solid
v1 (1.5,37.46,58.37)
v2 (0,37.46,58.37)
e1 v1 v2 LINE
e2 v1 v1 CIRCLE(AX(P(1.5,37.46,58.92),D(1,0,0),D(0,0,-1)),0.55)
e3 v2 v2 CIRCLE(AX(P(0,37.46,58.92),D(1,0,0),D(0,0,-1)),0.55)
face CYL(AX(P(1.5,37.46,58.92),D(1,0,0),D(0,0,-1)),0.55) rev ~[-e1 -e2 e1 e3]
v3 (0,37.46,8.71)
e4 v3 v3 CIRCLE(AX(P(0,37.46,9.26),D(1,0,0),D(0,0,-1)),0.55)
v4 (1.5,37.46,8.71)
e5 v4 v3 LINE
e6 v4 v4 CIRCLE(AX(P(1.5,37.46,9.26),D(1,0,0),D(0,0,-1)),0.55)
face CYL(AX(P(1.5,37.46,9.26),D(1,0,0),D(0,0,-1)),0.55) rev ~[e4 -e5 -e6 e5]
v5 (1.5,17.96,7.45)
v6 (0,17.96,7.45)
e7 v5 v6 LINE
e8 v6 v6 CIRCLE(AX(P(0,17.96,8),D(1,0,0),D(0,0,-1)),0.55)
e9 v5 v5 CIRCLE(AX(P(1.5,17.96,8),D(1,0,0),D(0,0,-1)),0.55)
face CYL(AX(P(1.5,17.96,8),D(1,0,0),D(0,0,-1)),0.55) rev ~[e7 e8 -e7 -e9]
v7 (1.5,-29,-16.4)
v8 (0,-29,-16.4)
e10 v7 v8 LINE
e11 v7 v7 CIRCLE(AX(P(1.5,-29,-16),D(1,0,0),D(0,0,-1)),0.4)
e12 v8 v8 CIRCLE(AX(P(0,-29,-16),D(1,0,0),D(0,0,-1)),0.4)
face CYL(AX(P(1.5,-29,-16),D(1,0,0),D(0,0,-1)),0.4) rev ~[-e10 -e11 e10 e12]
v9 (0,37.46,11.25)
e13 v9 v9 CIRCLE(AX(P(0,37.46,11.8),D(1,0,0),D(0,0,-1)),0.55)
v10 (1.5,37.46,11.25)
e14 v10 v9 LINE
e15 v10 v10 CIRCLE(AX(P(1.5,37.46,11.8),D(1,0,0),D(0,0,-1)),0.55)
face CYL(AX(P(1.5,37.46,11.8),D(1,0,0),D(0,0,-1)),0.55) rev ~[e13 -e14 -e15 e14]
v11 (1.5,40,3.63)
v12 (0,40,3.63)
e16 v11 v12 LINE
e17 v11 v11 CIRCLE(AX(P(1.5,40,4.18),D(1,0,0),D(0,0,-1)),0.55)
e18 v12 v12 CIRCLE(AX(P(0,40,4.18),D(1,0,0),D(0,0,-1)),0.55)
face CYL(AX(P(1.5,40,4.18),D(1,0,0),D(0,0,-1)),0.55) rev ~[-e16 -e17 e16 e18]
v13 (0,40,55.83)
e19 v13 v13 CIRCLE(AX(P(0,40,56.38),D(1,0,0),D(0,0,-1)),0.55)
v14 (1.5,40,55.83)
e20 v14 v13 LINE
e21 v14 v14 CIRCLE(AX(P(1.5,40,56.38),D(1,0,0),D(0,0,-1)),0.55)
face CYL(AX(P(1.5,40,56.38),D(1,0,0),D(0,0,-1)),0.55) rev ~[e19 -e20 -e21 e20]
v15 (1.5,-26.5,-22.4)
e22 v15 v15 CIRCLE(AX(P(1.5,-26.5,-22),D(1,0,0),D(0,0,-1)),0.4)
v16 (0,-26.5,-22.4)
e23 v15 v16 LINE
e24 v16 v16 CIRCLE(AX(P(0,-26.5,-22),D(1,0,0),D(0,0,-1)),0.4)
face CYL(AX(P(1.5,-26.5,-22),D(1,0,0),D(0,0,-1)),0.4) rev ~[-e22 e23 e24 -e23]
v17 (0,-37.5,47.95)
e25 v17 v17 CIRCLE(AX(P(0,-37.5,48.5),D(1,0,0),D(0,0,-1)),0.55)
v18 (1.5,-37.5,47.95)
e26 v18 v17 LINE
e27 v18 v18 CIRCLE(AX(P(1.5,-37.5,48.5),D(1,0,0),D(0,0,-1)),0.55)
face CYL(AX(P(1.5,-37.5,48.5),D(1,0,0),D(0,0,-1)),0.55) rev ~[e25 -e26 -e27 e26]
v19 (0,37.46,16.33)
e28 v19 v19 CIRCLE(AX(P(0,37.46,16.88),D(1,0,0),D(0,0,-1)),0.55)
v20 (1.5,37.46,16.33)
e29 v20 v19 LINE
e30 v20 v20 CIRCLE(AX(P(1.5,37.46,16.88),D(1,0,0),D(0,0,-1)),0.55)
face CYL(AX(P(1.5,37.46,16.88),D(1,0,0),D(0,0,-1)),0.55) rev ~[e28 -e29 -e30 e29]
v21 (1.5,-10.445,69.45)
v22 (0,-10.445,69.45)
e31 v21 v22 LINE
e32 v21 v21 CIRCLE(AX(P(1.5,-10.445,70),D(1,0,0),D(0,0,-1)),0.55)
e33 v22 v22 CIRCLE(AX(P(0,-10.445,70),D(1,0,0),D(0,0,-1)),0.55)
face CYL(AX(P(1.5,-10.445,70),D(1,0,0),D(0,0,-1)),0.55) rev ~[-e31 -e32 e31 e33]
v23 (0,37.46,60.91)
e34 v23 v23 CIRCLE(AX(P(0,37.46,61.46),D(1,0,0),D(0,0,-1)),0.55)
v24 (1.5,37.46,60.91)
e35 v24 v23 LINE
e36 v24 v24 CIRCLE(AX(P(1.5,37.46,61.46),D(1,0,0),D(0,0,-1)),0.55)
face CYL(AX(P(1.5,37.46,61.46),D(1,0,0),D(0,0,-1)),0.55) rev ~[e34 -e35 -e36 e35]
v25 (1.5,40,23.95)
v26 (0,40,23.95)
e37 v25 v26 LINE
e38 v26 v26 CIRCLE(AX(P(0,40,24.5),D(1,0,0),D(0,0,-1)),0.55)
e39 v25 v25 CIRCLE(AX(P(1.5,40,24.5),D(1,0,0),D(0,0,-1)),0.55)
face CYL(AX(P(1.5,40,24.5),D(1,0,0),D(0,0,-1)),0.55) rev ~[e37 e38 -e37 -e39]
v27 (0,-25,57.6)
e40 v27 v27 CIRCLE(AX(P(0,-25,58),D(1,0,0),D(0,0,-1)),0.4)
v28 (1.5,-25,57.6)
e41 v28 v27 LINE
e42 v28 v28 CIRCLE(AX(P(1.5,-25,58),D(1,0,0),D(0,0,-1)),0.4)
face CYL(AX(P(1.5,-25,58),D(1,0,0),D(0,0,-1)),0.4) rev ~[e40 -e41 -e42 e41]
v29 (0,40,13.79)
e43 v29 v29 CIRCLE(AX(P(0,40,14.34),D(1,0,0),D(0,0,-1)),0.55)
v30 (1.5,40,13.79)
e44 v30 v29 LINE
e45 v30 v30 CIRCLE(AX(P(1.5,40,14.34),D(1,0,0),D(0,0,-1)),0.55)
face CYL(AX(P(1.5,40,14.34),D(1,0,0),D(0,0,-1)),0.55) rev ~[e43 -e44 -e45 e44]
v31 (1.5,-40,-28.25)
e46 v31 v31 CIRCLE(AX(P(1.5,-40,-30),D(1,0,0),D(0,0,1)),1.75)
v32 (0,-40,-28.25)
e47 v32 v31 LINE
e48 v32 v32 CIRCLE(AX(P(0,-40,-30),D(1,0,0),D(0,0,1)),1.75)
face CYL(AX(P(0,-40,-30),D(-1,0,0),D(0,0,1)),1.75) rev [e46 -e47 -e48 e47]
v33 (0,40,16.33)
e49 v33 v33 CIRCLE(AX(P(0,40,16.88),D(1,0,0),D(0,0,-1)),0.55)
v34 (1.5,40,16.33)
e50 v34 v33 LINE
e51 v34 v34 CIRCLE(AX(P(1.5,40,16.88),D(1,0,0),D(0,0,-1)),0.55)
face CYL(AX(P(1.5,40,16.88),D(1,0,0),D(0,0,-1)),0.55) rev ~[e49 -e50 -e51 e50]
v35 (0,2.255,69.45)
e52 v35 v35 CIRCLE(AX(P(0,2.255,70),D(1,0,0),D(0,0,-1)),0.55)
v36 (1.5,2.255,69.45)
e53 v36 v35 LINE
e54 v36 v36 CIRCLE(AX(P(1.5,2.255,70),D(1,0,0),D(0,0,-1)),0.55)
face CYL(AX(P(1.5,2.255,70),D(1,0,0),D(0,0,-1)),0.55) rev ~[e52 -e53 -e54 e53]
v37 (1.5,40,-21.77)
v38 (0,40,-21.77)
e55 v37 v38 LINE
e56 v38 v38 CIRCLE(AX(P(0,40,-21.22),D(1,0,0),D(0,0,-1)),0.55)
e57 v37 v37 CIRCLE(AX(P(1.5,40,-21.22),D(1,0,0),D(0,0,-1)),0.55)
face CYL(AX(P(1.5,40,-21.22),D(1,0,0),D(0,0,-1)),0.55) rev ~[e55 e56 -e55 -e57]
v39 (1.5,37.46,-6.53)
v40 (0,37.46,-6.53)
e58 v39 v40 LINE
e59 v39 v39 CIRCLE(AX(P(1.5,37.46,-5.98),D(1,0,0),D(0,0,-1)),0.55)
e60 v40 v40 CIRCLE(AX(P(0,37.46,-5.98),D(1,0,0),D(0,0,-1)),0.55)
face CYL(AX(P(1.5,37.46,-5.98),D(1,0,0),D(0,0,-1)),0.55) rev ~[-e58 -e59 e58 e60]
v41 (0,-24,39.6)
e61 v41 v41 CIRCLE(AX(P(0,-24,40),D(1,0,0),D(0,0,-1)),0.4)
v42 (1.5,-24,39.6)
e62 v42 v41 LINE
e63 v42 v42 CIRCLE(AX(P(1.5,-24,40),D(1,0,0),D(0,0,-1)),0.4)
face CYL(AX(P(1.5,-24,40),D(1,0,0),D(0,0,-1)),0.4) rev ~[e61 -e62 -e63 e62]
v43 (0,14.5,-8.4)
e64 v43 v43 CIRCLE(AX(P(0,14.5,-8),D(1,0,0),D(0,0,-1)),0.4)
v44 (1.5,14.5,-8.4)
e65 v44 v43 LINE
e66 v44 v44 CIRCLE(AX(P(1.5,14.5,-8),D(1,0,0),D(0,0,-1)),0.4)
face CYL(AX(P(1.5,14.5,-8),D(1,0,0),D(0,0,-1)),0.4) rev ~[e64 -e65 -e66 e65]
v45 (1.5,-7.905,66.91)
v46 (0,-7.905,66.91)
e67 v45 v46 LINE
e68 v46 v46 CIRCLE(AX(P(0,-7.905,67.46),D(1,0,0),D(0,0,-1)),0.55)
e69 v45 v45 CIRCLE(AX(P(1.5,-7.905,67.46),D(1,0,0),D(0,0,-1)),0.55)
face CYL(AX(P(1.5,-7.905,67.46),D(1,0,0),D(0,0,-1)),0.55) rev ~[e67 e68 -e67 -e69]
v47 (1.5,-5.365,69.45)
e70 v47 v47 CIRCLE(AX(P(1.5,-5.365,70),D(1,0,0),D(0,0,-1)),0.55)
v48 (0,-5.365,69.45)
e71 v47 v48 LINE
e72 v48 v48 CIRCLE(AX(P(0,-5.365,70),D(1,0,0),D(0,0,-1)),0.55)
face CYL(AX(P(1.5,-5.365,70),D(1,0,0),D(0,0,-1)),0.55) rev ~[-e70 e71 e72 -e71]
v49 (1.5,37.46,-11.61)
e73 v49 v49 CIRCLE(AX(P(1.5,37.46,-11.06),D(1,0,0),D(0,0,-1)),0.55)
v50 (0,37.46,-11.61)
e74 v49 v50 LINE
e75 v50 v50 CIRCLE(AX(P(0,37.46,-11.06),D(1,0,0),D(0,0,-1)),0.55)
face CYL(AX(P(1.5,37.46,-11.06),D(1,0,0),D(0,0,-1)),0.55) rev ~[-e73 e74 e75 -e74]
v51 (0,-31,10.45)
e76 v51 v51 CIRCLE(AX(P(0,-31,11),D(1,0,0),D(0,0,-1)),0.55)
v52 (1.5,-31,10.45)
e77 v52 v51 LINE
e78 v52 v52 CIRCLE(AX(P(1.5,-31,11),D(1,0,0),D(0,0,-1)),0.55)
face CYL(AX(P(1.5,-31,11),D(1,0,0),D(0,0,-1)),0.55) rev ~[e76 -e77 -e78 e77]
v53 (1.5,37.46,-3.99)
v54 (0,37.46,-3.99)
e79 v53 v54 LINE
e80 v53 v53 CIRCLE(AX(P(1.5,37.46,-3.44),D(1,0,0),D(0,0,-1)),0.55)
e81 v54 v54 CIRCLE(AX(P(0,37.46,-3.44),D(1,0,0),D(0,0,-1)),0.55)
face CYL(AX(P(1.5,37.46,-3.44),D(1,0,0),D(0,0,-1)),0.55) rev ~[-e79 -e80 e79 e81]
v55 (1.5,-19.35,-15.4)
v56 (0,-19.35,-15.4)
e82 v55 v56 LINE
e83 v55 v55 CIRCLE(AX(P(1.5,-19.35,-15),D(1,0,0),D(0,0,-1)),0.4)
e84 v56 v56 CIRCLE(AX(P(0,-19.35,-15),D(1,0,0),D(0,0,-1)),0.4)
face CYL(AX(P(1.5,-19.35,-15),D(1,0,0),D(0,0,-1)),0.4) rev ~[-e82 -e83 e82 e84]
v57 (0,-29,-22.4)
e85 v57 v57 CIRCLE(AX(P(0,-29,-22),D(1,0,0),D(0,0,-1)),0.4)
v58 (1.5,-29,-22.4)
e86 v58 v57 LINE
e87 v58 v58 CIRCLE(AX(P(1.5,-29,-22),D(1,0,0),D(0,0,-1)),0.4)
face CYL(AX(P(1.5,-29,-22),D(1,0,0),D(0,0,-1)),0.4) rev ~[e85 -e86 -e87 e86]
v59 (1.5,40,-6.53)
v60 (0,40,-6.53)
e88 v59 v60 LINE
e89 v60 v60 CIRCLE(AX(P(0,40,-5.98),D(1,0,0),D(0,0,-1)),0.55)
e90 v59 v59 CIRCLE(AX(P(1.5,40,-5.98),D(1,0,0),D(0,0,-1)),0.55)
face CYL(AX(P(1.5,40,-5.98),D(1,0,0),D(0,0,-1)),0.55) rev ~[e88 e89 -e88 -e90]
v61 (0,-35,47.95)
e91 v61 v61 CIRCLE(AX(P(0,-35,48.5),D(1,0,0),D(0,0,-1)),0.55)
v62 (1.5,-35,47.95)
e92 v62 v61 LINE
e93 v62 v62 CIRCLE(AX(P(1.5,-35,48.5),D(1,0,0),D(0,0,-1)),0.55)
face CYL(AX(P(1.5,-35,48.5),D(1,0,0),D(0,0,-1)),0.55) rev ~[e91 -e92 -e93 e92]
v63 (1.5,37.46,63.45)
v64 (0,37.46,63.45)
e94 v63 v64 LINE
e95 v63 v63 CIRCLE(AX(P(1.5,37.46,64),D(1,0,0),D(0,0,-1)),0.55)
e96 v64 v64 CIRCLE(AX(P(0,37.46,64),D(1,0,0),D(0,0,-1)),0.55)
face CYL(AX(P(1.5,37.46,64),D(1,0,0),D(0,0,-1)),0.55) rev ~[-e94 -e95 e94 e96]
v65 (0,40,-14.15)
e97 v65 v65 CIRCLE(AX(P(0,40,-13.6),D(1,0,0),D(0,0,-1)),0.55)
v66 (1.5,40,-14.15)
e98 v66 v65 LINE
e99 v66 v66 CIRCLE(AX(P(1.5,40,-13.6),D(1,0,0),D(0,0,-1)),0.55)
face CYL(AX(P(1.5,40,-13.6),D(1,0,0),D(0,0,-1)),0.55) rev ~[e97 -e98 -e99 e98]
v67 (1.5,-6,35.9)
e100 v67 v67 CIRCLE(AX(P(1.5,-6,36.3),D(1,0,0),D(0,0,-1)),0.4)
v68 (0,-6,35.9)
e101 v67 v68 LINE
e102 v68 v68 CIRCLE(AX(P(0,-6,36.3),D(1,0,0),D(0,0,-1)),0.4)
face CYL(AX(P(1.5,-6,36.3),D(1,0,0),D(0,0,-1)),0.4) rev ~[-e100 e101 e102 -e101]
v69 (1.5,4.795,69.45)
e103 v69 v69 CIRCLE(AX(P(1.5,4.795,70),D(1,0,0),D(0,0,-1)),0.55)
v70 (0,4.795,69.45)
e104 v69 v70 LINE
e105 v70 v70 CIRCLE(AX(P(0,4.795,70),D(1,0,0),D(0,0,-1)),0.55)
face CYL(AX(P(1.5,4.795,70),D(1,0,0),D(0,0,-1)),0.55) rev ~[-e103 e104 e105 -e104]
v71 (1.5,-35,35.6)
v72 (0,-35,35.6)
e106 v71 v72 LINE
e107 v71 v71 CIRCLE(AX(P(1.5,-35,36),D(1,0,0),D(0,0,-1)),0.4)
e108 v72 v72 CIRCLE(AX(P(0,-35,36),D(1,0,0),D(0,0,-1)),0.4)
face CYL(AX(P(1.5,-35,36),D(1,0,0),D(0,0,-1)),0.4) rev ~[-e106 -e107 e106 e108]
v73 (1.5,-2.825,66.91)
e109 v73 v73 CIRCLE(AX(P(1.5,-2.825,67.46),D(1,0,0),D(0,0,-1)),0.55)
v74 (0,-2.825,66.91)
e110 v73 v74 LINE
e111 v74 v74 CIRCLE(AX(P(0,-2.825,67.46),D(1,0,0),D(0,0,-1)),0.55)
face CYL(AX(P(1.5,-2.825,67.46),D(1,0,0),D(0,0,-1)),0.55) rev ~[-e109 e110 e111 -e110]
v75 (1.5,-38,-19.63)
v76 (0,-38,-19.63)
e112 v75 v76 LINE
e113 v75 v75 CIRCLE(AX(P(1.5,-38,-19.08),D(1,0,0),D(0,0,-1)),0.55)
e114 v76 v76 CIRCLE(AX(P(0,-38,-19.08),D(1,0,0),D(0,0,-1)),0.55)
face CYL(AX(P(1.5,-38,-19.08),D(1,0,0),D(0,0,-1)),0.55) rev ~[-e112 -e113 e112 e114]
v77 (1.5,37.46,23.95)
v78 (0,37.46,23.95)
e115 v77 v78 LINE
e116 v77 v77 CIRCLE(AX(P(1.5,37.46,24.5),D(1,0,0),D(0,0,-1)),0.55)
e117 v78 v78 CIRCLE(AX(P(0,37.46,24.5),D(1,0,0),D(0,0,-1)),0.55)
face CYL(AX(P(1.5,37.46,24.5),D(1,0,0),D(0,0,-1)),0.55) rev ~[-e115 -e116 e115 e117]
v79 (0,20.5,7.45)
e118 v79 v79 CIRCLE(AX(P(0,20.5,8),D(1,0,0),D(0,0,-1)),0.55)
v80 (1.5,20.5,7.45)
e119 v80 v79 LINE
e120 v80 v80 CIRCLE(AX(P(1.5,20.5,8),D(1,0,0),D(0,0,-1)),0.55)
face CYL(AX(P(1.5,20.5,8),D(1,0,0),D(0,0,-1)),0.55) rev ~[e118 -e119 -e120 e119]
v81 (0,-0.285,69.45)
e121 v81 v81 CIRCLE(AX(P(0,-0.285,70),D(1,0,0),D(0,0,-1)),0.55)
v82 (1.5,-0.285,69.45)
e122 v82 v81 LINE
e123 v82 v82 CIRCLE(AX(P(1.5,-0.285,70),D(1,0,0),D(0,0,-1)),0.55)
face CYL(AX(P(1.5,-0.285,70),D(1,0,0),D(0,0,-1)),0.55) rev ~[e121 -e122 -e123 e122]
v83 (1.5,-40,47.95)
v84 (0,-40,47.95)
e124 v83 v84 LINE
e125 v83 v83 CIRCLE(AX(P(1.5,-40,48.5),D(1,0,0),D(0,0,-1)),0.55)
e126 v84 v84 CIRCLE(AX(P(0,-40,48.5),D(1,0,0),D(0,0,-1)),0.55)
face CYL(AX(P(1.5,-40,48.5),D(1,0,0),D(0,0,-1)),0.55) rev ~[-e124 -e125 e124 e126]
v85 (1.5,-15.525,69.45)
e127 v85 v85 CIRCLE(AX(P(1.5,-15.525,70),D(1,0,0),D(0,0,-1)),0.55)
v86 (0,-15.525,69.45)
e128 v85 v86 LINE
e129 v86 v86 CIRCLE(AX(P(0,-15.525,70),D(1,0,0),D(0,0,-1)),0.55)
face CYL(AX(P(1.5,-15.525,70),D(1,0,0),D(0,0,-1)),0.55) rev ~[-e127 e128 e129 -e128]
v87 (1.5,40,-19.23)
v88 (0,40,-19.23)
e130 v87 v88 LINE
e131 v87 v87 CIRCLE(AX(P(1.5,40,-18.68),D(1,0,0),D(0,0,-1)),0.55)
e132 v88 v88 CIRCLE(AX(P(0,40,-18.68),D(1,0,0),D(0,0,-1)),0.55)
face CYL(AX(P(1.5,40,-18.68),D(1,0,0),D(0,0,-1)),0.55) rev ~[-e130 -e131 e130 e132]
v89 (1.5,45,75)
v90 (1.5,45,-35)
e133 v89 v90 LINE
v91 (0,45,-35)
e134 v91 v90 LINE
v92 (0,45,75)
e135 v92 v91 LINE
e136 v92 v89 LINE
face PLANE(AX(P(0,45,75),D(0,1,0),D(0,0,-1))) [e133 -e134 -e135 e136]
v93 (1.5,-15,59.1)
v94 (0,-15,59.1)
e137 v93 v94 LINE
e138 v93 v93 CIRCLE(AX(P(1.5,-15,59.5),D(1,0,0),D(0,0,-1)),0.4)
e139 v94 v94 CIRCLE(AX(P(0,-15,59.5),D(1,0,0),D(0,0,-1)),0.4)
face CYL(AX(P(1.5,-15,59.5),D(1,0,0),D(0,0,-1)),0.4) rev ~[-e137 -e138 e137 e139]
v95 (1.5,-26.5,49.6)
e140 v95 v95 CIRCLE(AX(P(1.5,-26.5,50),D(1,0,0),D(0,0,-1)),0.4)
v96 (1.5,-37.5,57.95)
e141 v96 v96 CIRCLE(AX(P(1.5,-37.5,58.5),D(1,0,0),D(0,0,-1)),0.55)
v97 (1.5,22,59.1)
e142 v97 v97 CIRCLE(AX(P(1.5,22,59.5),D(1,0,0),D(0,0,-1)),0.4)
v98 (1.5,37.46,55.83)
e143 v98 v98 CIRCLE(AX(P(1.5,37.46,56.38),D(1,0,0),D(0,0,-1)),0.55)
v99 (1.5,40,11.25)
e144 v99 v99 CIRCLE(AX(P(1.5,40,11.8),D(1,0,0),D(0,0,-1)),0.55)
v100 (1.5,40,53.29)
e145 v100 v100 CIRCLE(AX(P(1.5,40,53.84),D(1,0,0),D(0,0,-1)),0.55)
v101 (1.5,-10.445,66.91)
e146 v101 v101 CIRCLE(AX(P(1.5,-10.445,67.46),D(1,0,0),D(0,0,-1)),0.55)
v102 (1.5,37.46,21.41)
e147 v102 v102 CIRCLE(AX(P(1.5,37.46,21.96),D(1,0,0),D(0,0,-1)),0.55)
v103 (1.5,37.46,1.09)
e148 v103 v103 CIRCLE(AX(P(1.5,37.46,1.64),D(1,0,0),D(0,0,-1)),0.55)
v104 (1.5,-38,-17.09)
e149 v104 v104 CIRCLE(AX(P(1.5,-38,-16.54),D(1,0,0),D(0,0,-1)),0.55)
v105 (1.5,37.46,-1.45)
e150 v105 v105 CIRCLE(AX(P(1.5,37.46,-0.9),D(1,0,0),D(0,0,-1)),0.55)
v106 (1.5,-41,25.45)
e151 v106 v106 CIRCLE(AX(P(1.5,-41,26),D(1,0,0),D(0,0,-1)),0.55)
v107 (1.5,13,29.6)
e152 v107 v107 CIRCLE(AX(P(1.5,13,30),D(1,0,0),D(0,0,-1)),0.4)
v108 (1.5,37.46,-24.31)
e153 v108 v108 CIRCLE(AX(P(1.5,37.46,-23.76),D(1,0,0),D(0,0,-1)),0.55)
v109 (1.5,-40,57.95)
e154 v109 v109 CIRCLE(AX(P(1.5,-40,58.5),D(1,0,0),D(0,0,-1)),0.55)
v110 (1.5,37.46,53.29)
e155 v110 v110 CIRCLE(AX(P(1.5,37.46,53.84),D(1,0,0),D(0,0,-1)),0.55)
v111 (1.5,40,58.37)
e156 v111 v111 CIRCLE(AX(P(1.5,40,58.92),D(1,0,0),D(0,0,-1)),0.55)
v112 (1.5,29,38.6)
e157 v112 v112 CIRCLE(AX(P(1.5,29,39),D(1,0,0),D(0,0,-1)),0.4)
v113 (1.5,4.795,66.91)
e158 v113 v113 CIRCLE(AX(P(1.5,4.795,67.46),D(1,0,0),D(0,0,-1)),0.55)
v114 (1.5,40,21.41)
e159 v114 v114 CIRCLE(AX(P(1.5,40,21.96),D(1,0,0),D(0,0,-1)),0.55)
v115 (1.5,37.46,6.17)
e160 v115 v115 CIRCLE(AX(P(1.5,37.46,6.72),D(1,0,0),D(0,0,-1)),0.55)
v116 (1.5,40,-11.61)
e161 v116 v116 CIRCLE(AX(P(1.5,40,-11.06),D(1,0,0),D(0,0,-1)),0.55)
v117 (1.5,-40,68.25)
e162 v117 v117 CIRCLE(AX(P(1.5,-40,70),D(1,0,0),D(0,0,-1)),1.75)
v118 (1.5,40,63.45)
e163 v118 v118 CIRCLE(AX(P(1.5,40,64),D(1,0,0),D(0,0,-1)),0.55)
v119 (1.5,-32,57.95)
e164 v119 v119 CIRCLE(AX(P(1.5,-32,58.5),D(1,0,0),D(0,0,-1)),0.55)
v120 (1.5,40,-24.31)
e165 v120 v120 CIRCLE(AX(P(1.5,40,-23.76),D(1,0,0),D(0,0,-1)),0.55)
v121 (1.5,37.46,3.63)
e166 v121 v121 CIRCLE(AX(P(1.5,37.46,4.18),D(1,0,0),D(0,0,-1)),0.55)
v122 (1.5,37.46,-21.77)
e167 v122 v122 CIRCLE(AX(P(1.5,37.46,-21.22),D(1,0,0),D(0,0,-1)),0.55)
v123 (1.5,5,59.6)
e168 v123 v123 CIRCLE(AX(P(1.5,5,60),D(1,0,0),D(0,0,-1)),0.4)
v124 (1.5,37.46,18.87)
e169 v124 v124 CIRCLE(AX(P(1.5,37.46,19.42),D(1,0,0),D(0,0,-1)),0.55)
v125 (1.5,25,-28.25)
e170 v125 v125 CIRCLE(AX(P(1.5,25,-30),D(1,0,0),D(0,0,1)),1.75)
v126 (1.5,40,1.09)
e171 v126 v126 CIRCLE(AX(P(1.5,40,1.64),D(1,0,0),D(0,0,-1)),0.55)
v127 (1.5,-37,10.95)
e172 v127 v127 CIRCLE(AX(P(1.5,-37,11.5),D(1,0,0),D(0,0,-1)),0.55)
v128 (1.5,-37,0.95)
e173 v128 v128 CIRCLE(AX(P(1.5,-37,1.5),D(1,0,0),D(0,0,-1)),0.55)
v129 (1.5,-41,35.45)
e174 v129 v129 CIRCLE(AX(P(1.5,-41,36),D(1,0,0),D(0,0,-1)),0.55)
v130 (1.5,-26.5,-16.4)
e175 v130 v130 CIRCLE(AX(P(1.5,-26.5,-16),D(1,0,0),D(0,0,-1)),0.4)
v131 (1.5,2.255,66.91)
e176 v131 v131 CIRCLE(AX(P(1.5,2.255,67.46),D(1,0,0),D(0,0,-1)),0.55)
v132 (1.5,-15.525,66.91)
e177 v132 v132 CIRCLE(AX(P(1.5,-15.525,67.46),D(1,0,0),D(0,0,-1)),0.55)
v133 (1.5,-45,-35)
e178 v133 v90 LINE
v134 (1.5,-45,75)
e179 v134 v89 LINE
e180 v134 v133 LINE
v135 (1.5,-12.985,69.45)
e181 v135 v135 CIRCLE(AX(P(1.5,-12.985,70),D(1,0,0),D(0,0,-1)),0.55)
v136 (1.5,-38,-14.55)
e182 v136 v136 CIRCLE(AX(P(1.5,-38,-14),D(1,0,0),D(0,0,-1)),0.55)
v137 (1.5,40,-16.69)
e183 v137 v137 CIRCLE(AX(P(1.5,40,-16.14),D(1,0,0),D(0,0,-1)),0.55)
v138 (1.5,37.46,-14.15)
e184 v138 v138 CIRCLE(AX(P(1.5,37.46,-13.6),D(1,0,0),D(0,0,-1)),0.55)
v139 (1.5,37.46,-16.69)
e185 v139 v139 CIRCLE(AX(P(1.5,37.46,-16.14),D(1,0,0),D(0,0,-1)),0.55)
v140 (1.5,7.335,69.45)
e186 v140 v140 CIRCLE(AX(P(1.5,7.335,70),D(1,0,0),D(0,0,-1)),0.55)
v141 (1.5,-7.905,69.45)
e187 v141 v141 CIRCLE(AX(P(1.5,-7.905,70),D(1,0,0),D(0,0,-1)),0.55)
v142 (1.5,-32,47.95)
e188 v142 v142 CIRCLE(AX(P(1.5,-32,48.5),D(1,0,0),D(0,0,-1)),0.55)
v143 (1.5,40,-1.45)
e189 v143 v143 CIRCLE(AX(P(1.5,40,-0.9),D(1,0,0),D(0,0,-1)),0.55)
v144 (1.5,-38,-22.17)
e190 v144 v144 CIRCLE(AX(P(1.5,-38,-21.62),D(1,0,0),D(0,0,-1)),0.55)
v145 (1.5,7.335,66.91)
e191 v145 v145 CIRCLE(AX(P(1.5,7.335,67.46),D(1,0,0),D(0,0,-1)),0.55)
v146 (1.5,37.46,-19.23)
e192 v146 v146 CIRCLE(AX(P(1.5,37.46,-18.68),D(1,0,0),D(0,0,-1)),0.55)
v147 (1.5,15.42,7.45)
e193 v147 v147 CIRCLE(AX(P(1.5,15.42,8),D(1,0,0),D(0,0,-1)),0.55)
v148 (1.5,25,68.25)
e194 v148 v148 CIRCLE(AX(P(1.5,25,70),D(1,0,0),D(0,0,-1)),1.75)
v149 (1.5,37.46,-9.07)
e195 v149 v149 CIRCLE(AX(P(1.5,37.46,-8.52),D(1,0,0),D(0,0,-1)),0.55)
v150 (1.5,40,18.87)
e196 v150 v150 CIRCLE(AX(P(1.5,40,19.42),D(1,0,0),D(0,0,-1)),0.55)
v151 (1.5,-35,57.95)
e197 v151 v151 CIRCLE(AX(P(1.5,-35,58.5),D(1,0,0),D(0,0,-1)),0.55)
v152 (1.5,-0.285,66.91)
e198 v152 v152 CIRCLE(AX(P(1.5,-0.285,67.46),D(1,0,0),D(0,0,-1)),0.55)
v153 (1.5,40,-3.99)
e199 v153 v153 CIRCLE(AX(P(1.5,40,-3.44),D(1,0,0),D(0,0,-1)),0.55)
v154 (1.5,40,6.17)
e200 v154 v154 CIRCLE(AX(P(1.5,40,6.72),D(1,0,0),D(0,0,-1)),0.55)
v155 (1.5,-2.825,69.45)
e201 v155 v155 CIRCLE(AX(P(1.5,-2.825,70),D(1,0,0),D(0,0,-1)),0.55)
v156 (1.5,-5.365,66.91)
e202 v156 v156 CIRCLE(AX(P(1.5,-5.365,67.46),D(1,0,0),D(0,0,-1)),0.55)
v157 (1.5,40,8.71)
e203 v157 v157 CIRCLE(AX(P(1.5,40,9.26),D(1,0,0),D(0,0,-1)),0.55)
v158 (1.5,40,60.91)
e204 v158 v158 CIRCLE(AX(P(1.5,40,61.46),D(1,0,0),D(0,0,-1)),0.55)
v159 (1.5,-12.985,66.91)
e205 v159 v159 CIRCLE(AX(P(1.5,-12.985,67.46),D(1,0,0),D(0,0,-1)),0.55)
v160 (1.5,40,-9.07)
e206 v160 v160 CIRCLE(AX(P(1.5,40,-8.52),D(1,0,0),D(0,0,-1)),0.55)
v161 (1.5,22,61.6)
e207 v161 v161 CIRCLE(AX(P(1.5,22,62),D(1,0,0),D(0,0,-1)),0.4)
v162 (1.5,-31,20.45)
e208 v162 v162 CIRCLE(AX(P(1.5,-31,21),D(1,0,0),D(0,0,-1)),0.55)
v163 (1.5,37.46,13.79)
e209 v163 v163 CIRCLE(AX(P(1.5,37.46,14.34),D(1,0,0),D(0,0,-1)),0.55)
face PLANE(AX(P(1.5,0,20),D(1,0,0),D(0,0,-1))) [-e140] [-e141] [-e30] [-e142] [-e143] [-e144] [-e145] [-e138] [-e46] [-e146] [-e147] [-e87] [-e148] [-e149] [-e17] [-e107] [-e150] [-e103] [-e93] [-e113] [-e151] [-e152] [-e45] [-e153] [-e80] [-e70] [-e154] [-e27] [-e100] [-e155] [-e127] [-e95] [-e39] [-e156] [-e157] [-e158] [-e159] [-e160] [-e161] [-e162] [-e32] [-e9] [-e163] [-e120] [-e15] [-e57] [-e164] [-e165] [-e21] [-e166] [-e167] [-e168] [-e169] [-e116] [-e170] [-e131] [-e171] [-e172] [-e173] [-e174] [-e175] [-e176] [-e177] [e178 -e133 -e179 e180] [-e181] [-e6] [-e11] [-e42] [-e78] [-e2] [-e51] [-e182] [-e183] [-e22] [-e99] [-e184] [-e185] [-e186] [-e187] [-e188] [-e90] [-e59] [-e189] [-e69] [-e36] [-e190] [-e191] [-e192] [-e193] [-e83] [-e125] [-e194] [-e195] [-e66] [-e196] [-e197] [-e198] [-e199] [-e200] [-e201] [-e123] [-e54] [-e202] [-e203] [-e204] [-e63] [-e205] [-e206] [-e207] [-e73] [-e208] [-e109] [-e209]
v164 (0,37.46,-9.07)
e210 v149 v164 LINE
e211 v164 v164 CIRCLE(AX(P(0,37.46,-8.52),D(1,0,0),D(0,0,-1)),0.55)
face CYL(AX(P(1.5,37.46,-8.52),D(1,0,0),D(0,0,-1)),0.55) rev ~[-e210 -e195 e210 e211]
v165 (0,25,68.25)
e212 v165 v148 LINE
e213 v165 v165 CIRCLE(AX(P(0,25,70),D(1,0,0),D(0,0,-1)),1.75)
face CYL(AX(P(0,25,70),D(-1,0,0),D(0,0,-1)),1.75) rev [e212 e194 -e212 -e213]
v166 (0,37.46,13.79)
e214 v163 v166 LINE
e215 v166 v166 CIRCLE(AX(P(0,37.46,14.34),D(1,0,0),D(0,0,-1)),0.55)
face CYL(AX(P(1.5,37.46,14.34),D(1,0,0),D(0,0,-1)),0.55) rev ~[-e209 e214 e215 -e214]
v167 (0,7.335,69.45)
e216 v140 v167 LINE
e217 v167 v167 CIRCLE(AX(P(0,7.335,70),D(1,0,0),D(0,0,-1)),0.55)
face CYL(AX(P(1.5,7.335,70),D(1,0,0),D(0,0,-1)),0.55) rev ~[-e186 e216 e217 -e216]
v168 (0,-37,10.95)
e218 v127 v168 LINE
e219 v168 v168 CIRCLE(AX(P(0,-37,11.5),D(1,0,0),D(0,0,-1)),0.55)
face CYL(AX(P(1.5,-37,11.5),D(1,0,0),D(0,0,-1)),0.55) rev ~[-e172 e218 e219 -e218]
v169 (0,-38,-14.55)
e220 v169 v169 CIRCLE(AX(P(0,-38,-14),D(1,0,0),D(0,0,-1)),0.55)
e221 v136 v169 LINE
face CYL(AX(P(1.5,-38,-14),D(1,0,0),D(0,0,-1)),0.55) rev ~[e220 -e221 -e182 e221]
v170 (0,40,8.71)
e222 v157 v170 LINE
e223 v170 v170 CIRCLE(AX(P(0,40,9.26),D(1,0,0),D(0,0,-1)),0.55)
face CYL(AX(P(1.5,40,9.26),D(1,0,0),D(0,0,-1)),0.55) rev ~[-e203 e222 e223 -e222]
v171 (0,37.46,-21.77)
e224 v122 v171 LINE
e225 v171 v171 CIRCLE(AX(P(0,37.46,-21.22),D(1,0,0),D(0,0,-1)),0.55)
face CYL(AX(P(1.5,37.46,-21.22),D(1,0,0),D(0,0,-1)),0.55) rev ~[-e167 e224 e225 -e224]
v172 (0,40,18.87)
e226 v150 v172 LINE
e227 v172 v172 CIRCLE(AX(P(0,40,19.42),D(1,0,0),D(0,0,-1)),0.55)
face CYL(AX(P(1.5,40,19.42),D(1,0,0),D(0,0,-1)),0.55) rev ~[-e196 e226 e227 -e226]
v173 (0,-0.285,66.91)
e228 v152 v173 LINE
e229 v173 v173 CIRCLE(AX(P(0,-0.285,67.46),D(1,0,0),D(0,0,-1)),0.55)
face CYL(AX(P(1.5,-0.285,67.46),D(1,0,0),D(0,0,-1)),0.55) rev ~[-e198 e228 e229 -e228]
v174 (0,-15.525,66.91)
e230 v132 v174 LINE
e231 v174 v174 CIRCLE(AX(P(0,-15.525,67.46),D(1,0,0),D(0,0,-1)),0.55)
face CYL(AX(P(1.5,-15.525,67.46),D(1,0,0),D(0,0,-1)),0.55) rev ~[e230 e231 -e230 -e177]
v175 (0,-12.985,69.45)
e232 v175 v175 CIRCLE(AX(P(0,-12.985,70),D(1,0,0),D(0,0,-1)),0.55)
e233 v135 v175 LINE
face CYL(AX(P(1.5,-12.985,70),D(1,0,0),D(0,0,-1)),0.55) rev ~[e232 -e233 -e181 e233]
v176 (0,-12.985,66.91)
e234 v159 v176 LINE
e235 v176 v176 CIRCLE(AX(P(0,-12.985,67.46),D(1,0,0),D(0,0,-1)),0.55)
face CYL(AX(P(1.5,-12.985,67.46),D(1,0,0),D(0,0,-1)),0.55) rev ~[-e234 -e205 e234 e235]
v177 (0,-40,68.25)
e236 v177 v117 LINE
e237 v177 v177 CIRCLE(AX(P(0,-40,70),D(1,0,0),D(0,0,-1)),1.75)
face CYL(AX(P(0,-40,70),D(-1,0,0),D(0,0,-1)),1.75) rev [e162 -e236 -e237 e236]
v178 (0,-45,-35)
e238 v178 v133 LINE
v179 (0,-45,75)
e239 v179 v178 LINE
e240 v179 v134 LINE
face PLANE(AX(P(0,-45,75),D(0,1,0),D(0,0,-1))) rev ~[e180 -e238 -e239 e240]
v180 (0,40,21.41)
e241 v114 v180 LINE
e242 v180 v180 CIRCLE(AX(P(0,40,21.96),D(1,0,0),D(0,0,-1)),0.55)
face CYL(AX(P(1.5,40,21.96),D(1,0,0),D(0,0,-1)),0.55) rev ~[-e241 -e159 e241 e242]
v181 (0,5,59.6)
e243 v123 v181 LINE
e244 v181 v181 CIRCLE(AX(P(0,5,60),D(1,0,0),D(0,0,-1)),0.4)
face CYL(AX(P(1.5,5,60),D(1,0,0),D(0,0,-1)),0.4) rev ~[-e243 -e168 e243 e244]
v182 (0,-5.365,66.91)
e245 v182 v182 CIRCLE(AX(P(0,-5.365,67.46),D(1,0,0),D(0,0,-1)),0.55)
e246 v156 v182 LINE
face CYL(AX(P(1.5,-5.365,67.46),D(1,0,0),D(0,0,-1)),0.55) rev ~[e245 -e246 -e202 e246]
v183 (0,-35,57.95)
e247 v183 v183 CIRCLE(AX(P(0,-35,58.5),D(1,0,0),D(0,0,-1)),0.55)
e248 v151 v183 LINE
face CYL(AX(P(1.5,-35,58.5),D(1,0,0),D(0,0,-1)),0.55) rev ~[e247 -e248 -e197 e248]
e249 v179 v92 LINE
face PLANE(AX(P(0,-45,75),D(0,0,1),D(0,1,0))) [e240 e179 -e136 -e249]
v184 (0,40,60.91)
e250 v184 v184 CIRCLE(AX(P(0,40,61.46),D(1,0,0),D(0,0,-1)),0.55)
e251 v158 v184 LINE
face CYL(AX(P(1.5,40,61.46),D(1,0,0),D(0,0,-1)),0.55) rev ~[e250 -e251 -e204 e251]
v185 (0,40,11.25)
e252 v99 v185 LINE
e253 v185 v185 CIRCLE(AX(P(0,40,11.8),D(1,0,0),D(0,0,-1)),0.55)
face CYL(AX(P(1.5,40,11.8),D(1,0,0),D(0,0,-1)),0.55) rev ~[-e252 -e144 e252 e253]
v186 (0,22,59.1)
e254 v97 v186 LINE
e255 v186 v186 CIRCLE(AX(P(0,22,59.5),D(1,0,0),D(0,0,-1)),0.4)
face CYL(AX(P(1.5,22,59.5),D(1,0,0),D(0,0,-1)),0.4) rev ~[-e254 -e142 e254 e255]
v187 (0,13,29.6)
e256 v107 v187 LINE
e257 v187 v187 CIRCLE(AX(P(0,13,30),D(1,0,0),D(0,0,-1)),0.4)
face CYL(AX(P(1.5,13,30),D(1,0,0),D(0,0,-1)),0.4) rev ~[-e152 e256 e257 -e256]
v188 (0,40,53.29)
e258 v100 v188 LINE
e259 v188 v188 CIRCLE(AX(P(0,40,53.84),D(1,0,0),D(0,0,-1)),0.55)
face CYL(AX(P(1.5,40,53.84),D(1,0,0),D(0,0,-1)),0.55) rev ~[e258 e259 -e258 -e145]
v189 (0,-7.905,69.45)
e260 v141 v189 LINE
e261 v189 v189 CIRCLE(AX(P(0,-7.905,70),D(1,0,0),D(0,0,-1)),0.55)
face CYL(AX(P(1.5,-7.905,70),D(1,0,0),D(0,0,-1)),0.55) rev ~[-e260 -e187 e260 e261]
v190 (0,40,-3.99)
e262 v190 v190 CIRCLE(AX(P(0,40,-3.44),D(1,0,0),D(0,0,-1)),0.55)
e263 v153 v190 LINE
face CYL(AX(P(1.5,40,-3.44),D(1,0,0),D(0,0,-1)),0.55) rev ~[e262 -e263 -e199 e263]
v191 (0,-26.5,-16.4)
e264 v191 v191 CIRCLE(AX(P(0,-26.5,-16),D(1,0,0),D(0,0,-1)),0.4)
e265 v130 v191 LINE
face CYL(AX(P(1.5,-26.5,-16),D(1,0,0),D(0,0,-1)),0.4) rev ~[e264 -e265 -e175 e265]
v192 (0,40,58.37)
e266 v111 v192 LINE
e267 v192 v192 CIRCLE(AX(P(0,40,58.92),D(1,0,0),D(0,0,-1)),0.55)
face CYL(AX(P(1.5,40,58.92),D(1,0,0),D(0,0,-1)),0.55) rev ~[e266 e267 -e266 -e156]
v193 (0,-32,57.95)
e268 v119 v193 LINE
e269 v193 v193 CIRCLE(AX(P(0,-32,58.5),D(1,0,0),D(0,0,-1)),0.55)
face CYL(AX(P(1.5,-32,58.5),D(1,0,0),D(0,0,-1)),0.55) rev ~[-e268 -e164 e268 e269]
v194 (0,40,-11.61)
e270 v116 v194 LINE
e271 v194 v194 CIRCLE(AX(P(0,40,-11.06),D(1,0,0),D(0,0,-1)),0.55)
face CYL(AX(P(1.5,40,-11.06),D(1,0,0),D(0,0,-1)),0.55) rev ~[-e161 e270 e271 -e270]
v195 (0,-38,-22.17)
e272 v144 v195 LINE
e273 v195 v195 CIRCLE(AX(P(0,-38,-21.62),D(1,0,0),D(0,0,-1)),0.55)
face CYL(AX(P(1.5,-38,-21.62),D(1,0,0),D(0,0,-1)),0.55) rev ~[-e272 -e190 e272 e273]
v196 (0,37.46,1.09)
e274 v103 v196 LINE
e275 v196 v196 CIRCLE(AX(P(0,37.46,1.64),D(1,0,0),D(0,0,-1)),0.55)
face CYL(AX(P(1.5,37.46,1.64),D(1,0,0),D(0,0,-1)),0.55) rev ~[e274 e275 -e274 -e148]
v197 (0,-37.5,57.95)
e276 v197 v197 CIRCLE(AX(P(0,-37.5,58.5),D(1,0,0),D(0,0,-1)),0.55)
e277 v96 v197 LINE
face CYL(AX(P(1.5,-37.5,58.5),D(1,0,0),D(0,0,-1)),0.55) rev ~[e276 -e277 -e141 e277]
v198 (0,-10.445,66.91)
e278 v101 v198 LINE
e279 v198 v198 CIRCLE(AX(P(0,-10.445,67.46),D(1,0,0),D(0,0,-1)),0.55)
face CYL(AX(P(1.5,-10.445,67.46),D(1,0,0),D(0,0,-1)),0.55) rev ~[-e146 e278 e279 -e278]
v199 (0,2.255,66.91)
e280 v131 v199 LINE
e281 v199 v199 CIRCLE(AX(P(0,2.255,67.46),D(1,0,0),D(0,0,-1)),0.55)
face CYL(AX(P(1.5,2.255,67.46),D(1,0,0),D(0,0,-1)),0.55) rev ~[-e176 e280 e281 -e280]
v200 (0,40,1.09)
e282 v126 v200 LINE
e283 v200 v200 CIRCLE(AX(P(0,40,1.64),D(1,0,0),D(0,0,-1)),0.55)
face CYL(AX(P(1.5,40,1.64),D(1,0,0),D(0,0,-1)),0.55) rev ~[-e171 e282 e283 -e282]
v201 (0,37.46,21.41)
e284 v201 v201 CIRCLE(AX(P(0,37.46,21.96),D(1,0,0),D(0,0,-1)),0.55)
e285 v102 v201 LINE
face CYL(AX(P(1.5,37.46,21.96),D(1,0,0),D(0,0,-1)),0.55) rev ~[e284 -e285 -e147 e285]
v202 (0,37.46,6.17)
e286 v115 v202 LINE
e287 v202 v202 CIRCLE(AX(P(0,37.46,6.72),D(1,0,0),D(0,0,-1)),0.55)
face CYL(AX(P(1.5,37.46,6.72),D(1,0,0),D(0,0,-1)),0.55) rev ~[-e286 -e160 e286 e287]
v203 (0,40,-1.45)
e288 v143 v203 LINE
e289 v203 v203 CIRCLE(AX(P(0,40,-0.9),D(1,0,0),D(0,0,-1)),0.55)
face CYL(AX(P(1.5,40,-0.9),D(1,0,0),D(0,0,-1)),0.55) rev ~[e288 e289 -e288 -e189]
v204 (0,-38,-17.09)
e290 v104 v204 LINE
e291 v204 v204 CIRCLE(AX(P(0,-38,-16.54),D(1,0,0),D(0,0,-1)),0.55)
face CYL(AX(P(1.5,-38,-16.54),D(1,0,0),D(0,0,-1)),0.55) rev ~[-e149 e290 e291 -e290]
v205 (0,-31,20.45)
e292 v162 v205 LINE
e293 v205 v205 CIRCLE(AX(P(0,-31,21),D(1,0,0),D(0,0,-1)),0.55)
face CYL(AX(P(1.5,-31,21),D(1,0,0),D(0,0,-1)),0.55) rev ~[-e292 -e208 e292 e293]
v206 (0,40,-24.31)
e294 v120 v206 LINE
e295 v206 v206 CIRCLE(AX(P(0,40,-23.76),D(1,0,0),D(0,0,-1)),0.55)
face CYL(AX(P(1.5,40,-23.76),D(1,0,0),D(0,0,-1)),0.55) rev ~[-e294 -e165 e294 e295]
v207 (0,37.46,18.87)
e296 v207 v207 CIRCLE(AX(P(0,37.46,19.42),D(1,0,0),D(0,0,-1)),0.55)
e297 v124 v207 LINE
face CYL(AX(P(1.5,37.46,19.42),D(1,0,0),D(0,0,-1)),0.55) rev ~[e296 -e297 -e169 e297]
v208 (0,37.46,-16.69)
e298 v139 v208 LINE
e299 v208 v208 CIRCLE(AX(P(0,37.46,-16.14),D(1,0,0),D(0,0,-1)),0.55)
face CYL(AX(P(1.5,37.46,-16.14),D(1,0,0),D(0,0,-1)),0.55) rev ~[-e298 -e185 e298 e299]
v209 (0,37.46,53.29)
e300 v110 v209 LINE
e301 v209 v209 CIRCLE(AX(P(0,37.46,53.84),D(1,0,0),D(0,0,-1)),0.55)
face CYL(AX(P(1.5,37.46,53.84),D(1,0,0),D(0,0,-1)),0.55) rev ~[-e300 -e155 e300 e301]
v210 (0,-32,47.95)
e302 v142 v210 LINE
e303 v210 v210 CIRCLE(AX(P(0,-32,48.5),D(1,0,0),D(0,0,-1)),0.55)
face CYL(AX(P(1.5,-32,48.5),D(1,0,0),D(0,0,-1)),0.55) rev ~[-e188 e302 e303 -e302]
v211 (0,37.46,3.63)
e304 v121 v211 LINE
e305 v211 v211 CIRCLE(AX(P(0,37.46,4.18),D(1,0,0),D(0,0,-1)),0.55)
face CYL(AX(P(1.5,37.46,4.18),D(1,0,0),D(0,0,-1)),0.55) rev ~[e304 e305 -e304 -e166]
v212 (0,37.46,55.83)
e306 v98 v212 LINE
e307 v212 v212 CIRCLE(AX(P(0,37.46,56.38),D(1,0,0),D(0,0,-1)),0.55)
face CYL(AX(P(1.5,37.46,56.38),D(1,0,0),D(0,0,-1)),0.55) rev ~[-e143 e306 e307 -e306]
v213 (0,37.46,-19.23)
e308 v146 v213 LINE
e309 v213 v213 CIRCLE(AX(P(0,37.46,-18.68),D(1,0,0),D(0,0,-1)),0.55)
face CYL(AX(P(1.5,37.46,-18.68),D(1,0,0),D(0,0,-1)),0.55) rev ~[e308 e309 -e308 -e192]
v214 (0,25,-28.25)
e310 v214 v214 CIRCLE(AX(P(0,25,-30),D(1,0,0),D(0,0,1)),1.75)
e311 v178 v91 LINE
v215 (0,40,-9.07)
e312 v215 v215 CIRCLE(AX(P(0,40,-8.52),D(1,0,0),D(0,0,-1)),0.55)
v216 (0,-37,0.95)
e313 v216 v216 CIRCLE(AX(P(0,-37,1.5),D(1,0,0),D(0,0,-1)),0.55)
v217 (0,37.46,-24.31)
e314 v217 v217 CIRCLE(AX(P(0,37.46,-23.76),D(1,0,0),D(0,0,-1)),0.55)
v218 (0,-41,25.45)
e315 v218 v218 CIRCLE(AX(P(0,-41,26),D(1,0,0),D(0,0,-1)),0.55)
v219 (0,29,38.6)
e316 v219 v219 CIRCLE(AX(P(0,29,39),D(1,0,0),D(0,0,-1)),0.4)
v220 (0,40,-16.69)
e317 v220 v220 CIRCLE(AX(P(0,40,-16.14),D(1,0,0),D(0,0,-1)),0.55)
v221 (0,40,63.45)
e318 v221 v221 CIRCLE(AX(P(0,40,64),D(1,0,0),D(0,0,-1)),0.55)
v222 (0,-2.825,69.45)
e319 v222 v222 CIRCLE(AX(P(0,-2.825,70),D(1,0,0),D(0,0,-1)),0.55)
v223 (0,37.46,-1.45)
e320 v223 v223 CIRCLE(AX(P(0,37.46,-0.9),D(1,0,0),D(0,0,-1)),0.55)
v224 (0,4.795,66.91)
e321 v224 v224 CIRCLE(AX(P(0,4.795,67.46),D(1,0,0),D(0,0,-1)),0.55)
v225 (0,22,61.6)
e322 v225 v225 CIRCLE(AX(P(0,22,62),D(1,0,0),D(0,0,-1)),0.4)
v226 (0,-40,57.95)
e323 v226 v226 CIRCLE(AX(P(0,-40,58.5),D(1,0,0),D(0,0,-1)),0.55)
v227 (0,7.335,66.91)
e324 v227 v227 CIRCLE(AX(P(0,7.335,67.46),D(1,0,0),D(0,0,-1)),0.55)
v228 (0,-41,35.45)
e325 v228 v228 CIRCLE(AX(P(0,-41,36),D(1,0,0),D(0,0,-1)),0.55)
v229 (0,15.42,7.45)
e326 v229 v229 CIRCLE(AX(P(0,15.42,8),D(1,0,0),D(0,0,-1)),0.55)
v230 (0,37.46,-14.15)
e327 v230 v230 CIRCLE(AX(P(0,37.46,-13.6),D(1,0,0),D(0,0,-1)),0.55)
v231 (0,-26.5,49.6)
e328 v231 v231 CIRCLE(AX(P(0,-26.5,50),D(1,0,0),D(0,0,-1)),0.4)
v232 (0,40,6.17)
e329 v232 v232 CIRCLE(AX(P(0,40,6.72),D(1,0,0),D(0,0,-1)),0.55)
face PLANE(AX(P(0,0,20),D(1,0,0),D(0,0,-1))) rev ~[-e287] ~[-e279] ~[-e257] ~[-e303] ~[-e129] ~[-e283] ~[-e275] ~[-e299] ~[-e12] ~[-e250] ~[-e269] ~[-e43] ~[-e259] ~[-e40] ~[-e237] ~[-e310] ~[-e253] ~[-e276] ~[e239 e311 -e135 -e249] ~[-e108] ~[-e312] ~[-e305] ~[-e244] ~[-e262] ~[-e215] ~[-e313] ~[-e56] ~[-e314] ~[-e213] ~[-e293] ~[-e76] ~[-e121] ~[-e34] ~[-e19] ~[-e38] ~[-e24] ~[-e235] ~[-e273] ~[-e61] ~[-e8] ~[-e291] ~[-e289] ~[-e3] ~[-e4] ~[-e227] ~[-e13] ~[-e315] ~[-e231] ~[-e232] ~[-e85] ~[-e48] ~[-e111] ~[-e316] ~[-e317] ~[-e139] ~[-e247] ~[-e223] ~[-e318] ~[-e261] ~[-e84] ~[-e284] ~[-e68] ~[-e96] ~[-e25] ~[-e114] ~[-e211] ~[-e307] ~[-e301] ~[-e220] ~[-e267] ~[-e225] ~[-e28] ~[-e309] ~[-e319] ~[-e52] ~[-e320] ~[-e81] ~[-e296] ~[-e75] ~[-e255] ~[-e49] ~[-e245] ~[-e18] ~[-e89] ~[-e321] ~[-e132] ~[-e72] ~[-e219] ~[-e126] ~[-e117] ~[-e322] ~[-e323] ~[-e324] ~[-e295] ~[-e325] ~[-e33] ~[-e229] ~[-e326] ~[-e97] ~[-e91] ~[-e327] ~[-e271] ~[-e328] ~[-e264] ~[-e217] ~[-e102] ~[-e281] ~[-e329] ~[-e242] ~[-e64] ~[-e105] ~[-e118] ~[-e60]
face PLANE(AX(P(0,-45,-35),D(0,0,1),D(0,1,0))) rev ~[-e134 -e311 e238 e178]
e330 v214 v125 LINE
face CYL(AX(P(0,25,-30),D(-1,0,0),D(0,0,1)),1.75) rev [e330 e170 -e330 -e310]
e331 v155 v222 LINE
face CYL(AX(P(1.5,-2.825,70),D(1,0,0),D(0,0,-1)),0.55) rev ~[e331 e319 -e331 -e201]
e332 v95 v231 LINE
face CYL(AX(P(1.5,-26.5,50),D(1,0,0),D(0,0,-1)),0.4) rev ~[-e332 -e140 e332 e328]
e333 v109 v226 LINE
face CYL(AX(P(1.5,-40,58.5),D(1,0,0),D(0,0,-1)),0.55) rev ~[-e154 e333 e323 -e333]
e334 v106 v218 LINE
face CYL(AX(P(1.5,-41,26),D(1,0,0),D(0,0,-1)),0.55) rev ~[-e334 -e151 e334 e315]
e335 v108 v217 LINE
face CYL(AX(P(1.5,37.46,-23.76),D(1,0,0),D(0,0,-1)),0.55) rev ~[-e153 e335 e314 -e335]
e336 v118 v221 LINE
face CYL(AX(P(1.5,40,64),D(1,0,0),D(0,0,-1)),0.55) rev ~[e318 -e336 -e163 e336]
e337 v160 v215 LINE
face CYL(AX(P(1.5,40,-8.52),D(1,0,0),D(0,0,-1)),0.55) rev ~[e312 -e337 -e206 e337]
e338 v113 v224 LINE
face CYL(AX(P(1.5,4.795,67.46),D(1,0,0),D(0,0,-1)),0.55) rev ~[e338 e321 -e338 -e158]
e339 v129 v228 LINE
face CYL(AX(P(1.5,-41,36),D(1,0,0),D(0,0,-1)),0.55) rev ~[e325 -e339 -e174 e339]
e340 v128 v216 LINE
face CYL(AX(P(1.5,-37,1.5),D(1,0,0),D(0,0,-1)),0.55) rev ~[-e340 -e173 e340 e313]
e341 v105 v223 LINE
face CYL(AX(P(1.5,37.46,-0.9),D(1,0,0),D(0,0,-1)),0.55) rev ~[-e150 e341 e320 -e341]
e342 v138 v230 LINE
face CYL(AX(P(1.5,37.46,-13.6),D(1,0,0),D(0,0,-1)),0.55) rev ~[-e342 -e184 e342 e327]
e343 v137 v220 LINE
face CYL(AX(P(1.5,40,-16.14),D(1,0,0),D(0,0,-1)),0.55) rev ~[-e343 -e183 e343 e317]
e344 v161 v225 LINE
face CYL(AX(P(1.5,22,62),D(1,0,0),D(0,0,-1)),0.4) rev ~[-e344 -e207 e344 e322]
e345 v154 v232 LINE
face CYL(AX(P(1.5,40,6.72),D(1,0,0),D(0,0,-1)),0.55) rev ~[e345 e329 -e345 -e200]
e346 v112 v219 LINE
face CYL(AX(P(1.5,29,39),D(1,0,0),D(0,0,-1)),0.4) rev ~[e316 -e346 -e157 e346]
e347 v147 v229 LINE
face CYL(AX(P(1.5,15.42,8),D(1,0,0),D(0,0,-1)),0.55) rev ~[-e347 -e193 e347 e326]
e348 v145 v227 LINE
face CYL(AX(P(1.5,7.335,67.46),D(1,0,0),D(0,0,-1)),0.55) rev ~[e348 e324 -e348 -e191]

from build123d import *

# Parameters (mm, degrees)
SKETCH_1_W          = 110
SKETCH_1_H          = 90
SKETCH_1_R          = 1.75
EXTRUDE_1_DEPTH     = 1.5
SKETCH_2_R          = 0.55
CUT_EXTRUDE_1_DEPTH = 10
SKETCH_4_R          = 0.55
CUT_EXTRUDE_3_DEPTH = 10
SKETCH_5_R          = 0.4
CUT_EXTRUDE_4_DEPTH = 10
SKETCH_6_R          = 0.55
SKETCH_6_R_2        = 0.4
CUT_EXTRUDE_5_DEPTH = 10
SKETCH_7_R          = 0.4
CUT_EXTRUDE_6_DEPTH = 10


with BuildPart() as part:
    # Эскиз1 → Вытянуть1 (new body)
    with BuildSketch(Plane(origin=(0, 0, 0), x_dir=(0, 0, -1), z_dir=(1, 0, 0))):
        with Locations((-20, 0)):
            Rectangle(SKETCH_1_W, SKETCH_1_H)
        with Locations((-70, 25)):
            Circle(SKETCH_1_R, mode=Mode.SUBTRACT)
        with Locations((-70, -40)):
            Circle(SKETCH_1_R, mode=Mode.SUBTRACT)
        with Locations(Location((30, -40, 0), (0, 0, 180))):
            Circle(SKETCH_1_R, mode=Mode.SUBTRACT)
        with Locations(Location((30, 25, 0), (0, 0, 180))):
            Circle(SKETCH_1_R, mode=Mode.SUBTRACT)
    extrude(amount=EXTRUDE_1_DEPTH)

    # Эскиз2 → Вырез-Вытянуть1 (cut)
    with BuildSketch(Plane(origin=(1.5, 0, 0), x_dir=(0, 0, -1), z_dir=(1, 0, 0))):
        with Locations((-70, 7.335)):
            Circle(SKETCH_2_R)
        with Locations((-67.46, 7.335)):
            Circle(SKETCH_2_R)
        with Locations((-70, 4.795)):
            Circle(SKETCH_2_R)
        with Locations((-67.46, 4.795)):
            Circle(SKETCH_2_R)
        with Locations((-70, 2.255)):
            Circle(SKETCH_2_R)
        with Locations((-67.46, 2.255)):
            Circle(SKETCH_2_R)
        with Locations((-70, -0.285)):
            Circle(SKETCH_2_R)
        with Locations((-67.46, -0.285)):
            Circle(SKETCH_2_R)
        with Locations((-70, -2.825)):
            Circle(SKETCH_2_R)
        with Locations((-67.46, -2.825)):
            Circle(SKETCH_2_R)
        with Locations((-70, -5.365)):
            Circle(SKETCH_2_R)
        with Locations((-67.46, -5.365)):
            Circle(SKETCH_2_R)
        with Locations((-70, -7.905)):
            Circle(SKETCH_2_R)
        with Locations((-67.46, -7.905)):
            Circle(SKETCH_2_R)
        with Locations((-70, -10.445)):
            Circle(SKETCH_2_R)
        with Locations((-67.46, -10.445)):
            Circle(SKETCH_2_R)
        with Locations((-70, -12.985)):
            Circle(SKETCH_2_R)
        with Locations((-67.46, -12.985)):
            Circle(SKETCH_2_R)
        with Locations((-70, -15.525)):
            Circle(SKETCH_2_R)
        with Locations((-67.46, -15.525)):
            Circle(SKETCH_2_R)
        with Locations((-64, 40)):
            Circle(SKETCH_2_R)
        with Locations((-64, 37.46)):
            Circle(SKETCH_2_R)
        with Locations((-61.46, 40)):
            Circle(SKETCH_2_R)
        with Locations((-61.46, 37.46)):
            Circle(SKETCH_2_R)
        with Locations((-58.92, 40)):
            Circle(SKETCH_2_R)
        with Locations((-58.92, 37.46)):
            Circle(SKETCH_2_R)
        with Locations((-56.38, 40)):
            Circle(SKETCH_2_R)
        with Locations((-56.38, 37.46)):
            Circle(SKETCH_2_R)
        with Locations((-53.84, 40)):
            Circle(SKETCH_2_R)
        with Locations((-53.84, 37.46)):
            Circle(SKETCH_2_R)
        with Locations((-24.5, 40)):
            Circle(SKETCH_2_R)
        with Locations((-24.5, 37.46)):
            Circle(SKETCH_2_R)
        with Locations((-21.96, 40)):
            Circle(SKETCH_2_R)
        with Locations((-21.96, 37.46)):
            Circle(SKETCH_2_R)
        with Locations((-19.42, 40)):
            Circle(SKETCH_2_R)
        with Locations((-19.42, 37.46)):
            Circle(SKETCH_2_R)
        with Locations((-16.88, 40)):
            Circle(SKETCH_2_R)
        with Locations((-16.88, 37.46)):
            Circle(SKETCH_2_R)
        with Locations((-14.34, 40)):
            Circle(SKETCH_2_R)
        with Locations((-14.34, 37.46)):
            Circle(SKETCH_2_R)
        with Locations((-11.8, 40)):
            Circle(SKETCH_2_R)
        with Locations((-11.8, 37.46)):
            Circle(SKETCH_2_R)
        with Locations((-9.26, 40)):
            Circle(SKETCH_2_R)
        with Locations((-9.26, 37.46)):
            Circle(SKETCH_2_R)
        with Locations((-6.72, 40)):
            Circle(SKETCH_2_R)
        with Locations((-6.72, 37.46)):
            Circle(SKETCH_2_R)
        with Locations((-4.18, 40)):
            Circle(SKETCH_2_R)
        with Locations((-4.18, 37.46)):
            Circle(SKETCH_2_R)
        with Locations((-1.64, 40)):
            Circle(SKETCH_2_R)
        with Locations((-1.64, 37.46)):
            Circle(SKETCH_2_R)
        with Locations((0.9, 40)):
            Circle(SKETCH_2_R)
        with Locations((0.9, 37.46)):
            Circle(SKETCH_2_R)
        with Locations((3.44, 40)):
            Circle(SKETCH_2_R)
        with Locations((3.44, 37.46)):
            Circle(SKETCH_2_R)
        with Locations((5.98, 40)):
            Circle(SKETCH_2_R)
        with Locations((5.98, 37.46)):
            Circle(SKETCH_2_R)
        with Locations((8.52, 40)):
            Circle(SKETCH_2_R)
        with Locations((8.52, 37.46)):
            Circle(SKETCH_2_R)
        with Locations((11.06, 40)):
            Circle(SKETCH_2_R)
        with Locations((11.06, 37.46)):
            Circle(SKETCH_2_R)
        with Locations((13.6, 40)):
            Circle(SKETCH_2_R)
        with Locations((13.6, 37.46)):
            Circle(SKETCH_2_R)
        with Locations((16.14, 40)):
            Circle(SKETCH_2_R)
        with Locations((16.14, 37.46)):
            Circle(SKETCH_2_R)
        with Locations((18.68, 40)):
            Circle(SKETCH_2_R)
        with Locations((18.68, 37.46)):
            Circle(SKETCH_2_R)
        with Locations((21.22, 40)):
            Circle(SKETCH_2_R)
        with Locations((21.22, 37.46)):
            Circle(SKETCH_2_R)
        with Locations((23.76, 40)):
            Circle(SKETCH_2_R)
        with Locations((23.76, 37.46)):
            Circle(SKETCH_2_R)
        with Locations((-8, 20.5)):
            Circle(SKETCH_2_R)
        with Locations((-8, 17.96)):
            Circle(SKETCH_2_R)
        with Locations((-8, 15.42)):
            Circle(SKETCH_2_R)
        with Locations((50.03, -40.002)):
            Circle(SKETCH_2_R)
        with Locations((51.180392552, -42.266552268)):
            Circle(SKETCH_2_R)
        with Locations((52.330785105, -44.531104537)):
            Circle(SKETCH_2_R)
        with Locations((53.481177657, -46.795656805)):
            Circle(SKETCH_2_R)
    extrude(amount=-CUT_EXTRUDE_1_DEPTH, mode=Mode.SUBTRACT)

    # Эскиз4 → Вырез-Вытянуть3 (cut)
    with BuildSketch(Plane(origin=(1.5, 0, 0), x_dir=(0, 0, -1), z_dir=(1, 0, 0))):
        with Locations((14, -38)):
            Circle(SKETCH_4_R)
        with Locations((16.54, -38)):
            Circle(SKETCH_4_R)
        with Locations((19.08, -38)):
            Circle(SKETCH_4_R)
        with Locations((21.62, -38)):
            Circle(SKETCH_4_R)
    extrude(amount=-CUT_EXTRUDE_3_DEPTH, mode=Mode.SUBTRACT)

    # Эскиз5 → Вырез-Вытянуть4 (cut)
    with BuildSketch(Plane(origin=(1.5, 0, 0), x_dir=(0, 0, -1), z_dir=(1, 0, 0))):
        with Locations((15, -19.35)):
            Circle(SKETCH_5_R)
        with Locations((-30, 13)):
            Circle(SKETCH_5_R)
        with Locations((8, 14.5)):
            Circle(SKETCH_5_R)
        with Locations((-36, -35)):
            Circle(SKETCH_5_R)
        with Locations((-40, -24)):
            Circle(SKETCH_5_R)
        with Locations((-60, 5)):
            Circle(SKETCH_5_R)
        with Locations((-62, 22)):
            Circle(SKETCH_5_R)
        with Locations((-59.5, 22)):
            Circle(SKETCH_5_R)
        with Locations((16, -29)):
            Circle(SKETCH_5_R)
        with Locations((22, -29)):
            Circle(SKETCH_5_R)
        with Locations((22, -26.5)):
            Circle(SKETCH_5_R)
        with Locations((16, -26.5)):
            Circle(SKETCH_5_R)
        with Locations((-50, -26.5)):
            Circle(SKETCH_5_R)
    extrude(amount=-CUT_EXTRUDE_4_DEPTH, mode=Mode.SUBTRACT)

    # Эскиз6 → Вырез-Вытянуть5 (cut)
    with BuildSketch(Plane(origin=(1.5, 0, 0), x_dir=(0, 0, -1), z_dir=(1, 0, 0))):
        with Locations((-58.5, -40)):
            Circle(SKETCH_6_R)
        with Locations((-48.5, -40)):
            Circle(SKETCH_6_R)
        with Locations((-58.5, -37.5)):
            Circle(SKETCH_6_R)
        with Locations((-48.5, -37.5)):
            Circle(SKETCH_6_R)
        with Locations((-58.5, -35)):
            Circle(SKETCH_6_R)
        with Locations((-48.5, -35)):
            Circle(SKETCH_6_R)
        with Locations((-58.5, -32)):
            Circle(SKETCH_6_R)
        with Locations((-48.5, -32)):
            Circle(SKETCH_6_R)
        with Locations((-36, -41)):
            Circle(SKETCH_6_R)
        with Locations((-26, -41)):
            Circle(SKETCH_6_R)
        with Locations((-11.5, -37)):
            Circle(SKETCH_6_R)
        with Locations((-1.5, -37)):
            Circle(SKETCH_6_R)
        with Locations((-21, -31)):
            Circle(SKETCH_6_R)
        with Locations((-11, -31)):
            Circle(SKETCH_6_R)
        with Locations((-39, 29)):
            Circle(SKETCH_6_R_2)
        with Locations((-58, -25)):
            Circle(SKETCH_6_R_2)
        with Locations((-59.5, -15)):
            Circle(SKETCH_6_R_2)
    extrude(amount=-CUT_EXTRUDE_5_DEPTH, mode=Mode.SUBTRACT)

    # Эскиз7 → Вырез-Вытянуть6 (cut)
    with BuildSketch(Plane(origin=(1.5, 0, 0), x_dir=(0, 0, -1), z_dir=(1, 0, 0))):
        with Locations((-36.3, -6)):
            Circle(SKETCH_7_R)
    extrude(amount=-CUT_EXTRUDE_6_DEPTH, mode=Mode.SUBTRACT)


solid = part.part
